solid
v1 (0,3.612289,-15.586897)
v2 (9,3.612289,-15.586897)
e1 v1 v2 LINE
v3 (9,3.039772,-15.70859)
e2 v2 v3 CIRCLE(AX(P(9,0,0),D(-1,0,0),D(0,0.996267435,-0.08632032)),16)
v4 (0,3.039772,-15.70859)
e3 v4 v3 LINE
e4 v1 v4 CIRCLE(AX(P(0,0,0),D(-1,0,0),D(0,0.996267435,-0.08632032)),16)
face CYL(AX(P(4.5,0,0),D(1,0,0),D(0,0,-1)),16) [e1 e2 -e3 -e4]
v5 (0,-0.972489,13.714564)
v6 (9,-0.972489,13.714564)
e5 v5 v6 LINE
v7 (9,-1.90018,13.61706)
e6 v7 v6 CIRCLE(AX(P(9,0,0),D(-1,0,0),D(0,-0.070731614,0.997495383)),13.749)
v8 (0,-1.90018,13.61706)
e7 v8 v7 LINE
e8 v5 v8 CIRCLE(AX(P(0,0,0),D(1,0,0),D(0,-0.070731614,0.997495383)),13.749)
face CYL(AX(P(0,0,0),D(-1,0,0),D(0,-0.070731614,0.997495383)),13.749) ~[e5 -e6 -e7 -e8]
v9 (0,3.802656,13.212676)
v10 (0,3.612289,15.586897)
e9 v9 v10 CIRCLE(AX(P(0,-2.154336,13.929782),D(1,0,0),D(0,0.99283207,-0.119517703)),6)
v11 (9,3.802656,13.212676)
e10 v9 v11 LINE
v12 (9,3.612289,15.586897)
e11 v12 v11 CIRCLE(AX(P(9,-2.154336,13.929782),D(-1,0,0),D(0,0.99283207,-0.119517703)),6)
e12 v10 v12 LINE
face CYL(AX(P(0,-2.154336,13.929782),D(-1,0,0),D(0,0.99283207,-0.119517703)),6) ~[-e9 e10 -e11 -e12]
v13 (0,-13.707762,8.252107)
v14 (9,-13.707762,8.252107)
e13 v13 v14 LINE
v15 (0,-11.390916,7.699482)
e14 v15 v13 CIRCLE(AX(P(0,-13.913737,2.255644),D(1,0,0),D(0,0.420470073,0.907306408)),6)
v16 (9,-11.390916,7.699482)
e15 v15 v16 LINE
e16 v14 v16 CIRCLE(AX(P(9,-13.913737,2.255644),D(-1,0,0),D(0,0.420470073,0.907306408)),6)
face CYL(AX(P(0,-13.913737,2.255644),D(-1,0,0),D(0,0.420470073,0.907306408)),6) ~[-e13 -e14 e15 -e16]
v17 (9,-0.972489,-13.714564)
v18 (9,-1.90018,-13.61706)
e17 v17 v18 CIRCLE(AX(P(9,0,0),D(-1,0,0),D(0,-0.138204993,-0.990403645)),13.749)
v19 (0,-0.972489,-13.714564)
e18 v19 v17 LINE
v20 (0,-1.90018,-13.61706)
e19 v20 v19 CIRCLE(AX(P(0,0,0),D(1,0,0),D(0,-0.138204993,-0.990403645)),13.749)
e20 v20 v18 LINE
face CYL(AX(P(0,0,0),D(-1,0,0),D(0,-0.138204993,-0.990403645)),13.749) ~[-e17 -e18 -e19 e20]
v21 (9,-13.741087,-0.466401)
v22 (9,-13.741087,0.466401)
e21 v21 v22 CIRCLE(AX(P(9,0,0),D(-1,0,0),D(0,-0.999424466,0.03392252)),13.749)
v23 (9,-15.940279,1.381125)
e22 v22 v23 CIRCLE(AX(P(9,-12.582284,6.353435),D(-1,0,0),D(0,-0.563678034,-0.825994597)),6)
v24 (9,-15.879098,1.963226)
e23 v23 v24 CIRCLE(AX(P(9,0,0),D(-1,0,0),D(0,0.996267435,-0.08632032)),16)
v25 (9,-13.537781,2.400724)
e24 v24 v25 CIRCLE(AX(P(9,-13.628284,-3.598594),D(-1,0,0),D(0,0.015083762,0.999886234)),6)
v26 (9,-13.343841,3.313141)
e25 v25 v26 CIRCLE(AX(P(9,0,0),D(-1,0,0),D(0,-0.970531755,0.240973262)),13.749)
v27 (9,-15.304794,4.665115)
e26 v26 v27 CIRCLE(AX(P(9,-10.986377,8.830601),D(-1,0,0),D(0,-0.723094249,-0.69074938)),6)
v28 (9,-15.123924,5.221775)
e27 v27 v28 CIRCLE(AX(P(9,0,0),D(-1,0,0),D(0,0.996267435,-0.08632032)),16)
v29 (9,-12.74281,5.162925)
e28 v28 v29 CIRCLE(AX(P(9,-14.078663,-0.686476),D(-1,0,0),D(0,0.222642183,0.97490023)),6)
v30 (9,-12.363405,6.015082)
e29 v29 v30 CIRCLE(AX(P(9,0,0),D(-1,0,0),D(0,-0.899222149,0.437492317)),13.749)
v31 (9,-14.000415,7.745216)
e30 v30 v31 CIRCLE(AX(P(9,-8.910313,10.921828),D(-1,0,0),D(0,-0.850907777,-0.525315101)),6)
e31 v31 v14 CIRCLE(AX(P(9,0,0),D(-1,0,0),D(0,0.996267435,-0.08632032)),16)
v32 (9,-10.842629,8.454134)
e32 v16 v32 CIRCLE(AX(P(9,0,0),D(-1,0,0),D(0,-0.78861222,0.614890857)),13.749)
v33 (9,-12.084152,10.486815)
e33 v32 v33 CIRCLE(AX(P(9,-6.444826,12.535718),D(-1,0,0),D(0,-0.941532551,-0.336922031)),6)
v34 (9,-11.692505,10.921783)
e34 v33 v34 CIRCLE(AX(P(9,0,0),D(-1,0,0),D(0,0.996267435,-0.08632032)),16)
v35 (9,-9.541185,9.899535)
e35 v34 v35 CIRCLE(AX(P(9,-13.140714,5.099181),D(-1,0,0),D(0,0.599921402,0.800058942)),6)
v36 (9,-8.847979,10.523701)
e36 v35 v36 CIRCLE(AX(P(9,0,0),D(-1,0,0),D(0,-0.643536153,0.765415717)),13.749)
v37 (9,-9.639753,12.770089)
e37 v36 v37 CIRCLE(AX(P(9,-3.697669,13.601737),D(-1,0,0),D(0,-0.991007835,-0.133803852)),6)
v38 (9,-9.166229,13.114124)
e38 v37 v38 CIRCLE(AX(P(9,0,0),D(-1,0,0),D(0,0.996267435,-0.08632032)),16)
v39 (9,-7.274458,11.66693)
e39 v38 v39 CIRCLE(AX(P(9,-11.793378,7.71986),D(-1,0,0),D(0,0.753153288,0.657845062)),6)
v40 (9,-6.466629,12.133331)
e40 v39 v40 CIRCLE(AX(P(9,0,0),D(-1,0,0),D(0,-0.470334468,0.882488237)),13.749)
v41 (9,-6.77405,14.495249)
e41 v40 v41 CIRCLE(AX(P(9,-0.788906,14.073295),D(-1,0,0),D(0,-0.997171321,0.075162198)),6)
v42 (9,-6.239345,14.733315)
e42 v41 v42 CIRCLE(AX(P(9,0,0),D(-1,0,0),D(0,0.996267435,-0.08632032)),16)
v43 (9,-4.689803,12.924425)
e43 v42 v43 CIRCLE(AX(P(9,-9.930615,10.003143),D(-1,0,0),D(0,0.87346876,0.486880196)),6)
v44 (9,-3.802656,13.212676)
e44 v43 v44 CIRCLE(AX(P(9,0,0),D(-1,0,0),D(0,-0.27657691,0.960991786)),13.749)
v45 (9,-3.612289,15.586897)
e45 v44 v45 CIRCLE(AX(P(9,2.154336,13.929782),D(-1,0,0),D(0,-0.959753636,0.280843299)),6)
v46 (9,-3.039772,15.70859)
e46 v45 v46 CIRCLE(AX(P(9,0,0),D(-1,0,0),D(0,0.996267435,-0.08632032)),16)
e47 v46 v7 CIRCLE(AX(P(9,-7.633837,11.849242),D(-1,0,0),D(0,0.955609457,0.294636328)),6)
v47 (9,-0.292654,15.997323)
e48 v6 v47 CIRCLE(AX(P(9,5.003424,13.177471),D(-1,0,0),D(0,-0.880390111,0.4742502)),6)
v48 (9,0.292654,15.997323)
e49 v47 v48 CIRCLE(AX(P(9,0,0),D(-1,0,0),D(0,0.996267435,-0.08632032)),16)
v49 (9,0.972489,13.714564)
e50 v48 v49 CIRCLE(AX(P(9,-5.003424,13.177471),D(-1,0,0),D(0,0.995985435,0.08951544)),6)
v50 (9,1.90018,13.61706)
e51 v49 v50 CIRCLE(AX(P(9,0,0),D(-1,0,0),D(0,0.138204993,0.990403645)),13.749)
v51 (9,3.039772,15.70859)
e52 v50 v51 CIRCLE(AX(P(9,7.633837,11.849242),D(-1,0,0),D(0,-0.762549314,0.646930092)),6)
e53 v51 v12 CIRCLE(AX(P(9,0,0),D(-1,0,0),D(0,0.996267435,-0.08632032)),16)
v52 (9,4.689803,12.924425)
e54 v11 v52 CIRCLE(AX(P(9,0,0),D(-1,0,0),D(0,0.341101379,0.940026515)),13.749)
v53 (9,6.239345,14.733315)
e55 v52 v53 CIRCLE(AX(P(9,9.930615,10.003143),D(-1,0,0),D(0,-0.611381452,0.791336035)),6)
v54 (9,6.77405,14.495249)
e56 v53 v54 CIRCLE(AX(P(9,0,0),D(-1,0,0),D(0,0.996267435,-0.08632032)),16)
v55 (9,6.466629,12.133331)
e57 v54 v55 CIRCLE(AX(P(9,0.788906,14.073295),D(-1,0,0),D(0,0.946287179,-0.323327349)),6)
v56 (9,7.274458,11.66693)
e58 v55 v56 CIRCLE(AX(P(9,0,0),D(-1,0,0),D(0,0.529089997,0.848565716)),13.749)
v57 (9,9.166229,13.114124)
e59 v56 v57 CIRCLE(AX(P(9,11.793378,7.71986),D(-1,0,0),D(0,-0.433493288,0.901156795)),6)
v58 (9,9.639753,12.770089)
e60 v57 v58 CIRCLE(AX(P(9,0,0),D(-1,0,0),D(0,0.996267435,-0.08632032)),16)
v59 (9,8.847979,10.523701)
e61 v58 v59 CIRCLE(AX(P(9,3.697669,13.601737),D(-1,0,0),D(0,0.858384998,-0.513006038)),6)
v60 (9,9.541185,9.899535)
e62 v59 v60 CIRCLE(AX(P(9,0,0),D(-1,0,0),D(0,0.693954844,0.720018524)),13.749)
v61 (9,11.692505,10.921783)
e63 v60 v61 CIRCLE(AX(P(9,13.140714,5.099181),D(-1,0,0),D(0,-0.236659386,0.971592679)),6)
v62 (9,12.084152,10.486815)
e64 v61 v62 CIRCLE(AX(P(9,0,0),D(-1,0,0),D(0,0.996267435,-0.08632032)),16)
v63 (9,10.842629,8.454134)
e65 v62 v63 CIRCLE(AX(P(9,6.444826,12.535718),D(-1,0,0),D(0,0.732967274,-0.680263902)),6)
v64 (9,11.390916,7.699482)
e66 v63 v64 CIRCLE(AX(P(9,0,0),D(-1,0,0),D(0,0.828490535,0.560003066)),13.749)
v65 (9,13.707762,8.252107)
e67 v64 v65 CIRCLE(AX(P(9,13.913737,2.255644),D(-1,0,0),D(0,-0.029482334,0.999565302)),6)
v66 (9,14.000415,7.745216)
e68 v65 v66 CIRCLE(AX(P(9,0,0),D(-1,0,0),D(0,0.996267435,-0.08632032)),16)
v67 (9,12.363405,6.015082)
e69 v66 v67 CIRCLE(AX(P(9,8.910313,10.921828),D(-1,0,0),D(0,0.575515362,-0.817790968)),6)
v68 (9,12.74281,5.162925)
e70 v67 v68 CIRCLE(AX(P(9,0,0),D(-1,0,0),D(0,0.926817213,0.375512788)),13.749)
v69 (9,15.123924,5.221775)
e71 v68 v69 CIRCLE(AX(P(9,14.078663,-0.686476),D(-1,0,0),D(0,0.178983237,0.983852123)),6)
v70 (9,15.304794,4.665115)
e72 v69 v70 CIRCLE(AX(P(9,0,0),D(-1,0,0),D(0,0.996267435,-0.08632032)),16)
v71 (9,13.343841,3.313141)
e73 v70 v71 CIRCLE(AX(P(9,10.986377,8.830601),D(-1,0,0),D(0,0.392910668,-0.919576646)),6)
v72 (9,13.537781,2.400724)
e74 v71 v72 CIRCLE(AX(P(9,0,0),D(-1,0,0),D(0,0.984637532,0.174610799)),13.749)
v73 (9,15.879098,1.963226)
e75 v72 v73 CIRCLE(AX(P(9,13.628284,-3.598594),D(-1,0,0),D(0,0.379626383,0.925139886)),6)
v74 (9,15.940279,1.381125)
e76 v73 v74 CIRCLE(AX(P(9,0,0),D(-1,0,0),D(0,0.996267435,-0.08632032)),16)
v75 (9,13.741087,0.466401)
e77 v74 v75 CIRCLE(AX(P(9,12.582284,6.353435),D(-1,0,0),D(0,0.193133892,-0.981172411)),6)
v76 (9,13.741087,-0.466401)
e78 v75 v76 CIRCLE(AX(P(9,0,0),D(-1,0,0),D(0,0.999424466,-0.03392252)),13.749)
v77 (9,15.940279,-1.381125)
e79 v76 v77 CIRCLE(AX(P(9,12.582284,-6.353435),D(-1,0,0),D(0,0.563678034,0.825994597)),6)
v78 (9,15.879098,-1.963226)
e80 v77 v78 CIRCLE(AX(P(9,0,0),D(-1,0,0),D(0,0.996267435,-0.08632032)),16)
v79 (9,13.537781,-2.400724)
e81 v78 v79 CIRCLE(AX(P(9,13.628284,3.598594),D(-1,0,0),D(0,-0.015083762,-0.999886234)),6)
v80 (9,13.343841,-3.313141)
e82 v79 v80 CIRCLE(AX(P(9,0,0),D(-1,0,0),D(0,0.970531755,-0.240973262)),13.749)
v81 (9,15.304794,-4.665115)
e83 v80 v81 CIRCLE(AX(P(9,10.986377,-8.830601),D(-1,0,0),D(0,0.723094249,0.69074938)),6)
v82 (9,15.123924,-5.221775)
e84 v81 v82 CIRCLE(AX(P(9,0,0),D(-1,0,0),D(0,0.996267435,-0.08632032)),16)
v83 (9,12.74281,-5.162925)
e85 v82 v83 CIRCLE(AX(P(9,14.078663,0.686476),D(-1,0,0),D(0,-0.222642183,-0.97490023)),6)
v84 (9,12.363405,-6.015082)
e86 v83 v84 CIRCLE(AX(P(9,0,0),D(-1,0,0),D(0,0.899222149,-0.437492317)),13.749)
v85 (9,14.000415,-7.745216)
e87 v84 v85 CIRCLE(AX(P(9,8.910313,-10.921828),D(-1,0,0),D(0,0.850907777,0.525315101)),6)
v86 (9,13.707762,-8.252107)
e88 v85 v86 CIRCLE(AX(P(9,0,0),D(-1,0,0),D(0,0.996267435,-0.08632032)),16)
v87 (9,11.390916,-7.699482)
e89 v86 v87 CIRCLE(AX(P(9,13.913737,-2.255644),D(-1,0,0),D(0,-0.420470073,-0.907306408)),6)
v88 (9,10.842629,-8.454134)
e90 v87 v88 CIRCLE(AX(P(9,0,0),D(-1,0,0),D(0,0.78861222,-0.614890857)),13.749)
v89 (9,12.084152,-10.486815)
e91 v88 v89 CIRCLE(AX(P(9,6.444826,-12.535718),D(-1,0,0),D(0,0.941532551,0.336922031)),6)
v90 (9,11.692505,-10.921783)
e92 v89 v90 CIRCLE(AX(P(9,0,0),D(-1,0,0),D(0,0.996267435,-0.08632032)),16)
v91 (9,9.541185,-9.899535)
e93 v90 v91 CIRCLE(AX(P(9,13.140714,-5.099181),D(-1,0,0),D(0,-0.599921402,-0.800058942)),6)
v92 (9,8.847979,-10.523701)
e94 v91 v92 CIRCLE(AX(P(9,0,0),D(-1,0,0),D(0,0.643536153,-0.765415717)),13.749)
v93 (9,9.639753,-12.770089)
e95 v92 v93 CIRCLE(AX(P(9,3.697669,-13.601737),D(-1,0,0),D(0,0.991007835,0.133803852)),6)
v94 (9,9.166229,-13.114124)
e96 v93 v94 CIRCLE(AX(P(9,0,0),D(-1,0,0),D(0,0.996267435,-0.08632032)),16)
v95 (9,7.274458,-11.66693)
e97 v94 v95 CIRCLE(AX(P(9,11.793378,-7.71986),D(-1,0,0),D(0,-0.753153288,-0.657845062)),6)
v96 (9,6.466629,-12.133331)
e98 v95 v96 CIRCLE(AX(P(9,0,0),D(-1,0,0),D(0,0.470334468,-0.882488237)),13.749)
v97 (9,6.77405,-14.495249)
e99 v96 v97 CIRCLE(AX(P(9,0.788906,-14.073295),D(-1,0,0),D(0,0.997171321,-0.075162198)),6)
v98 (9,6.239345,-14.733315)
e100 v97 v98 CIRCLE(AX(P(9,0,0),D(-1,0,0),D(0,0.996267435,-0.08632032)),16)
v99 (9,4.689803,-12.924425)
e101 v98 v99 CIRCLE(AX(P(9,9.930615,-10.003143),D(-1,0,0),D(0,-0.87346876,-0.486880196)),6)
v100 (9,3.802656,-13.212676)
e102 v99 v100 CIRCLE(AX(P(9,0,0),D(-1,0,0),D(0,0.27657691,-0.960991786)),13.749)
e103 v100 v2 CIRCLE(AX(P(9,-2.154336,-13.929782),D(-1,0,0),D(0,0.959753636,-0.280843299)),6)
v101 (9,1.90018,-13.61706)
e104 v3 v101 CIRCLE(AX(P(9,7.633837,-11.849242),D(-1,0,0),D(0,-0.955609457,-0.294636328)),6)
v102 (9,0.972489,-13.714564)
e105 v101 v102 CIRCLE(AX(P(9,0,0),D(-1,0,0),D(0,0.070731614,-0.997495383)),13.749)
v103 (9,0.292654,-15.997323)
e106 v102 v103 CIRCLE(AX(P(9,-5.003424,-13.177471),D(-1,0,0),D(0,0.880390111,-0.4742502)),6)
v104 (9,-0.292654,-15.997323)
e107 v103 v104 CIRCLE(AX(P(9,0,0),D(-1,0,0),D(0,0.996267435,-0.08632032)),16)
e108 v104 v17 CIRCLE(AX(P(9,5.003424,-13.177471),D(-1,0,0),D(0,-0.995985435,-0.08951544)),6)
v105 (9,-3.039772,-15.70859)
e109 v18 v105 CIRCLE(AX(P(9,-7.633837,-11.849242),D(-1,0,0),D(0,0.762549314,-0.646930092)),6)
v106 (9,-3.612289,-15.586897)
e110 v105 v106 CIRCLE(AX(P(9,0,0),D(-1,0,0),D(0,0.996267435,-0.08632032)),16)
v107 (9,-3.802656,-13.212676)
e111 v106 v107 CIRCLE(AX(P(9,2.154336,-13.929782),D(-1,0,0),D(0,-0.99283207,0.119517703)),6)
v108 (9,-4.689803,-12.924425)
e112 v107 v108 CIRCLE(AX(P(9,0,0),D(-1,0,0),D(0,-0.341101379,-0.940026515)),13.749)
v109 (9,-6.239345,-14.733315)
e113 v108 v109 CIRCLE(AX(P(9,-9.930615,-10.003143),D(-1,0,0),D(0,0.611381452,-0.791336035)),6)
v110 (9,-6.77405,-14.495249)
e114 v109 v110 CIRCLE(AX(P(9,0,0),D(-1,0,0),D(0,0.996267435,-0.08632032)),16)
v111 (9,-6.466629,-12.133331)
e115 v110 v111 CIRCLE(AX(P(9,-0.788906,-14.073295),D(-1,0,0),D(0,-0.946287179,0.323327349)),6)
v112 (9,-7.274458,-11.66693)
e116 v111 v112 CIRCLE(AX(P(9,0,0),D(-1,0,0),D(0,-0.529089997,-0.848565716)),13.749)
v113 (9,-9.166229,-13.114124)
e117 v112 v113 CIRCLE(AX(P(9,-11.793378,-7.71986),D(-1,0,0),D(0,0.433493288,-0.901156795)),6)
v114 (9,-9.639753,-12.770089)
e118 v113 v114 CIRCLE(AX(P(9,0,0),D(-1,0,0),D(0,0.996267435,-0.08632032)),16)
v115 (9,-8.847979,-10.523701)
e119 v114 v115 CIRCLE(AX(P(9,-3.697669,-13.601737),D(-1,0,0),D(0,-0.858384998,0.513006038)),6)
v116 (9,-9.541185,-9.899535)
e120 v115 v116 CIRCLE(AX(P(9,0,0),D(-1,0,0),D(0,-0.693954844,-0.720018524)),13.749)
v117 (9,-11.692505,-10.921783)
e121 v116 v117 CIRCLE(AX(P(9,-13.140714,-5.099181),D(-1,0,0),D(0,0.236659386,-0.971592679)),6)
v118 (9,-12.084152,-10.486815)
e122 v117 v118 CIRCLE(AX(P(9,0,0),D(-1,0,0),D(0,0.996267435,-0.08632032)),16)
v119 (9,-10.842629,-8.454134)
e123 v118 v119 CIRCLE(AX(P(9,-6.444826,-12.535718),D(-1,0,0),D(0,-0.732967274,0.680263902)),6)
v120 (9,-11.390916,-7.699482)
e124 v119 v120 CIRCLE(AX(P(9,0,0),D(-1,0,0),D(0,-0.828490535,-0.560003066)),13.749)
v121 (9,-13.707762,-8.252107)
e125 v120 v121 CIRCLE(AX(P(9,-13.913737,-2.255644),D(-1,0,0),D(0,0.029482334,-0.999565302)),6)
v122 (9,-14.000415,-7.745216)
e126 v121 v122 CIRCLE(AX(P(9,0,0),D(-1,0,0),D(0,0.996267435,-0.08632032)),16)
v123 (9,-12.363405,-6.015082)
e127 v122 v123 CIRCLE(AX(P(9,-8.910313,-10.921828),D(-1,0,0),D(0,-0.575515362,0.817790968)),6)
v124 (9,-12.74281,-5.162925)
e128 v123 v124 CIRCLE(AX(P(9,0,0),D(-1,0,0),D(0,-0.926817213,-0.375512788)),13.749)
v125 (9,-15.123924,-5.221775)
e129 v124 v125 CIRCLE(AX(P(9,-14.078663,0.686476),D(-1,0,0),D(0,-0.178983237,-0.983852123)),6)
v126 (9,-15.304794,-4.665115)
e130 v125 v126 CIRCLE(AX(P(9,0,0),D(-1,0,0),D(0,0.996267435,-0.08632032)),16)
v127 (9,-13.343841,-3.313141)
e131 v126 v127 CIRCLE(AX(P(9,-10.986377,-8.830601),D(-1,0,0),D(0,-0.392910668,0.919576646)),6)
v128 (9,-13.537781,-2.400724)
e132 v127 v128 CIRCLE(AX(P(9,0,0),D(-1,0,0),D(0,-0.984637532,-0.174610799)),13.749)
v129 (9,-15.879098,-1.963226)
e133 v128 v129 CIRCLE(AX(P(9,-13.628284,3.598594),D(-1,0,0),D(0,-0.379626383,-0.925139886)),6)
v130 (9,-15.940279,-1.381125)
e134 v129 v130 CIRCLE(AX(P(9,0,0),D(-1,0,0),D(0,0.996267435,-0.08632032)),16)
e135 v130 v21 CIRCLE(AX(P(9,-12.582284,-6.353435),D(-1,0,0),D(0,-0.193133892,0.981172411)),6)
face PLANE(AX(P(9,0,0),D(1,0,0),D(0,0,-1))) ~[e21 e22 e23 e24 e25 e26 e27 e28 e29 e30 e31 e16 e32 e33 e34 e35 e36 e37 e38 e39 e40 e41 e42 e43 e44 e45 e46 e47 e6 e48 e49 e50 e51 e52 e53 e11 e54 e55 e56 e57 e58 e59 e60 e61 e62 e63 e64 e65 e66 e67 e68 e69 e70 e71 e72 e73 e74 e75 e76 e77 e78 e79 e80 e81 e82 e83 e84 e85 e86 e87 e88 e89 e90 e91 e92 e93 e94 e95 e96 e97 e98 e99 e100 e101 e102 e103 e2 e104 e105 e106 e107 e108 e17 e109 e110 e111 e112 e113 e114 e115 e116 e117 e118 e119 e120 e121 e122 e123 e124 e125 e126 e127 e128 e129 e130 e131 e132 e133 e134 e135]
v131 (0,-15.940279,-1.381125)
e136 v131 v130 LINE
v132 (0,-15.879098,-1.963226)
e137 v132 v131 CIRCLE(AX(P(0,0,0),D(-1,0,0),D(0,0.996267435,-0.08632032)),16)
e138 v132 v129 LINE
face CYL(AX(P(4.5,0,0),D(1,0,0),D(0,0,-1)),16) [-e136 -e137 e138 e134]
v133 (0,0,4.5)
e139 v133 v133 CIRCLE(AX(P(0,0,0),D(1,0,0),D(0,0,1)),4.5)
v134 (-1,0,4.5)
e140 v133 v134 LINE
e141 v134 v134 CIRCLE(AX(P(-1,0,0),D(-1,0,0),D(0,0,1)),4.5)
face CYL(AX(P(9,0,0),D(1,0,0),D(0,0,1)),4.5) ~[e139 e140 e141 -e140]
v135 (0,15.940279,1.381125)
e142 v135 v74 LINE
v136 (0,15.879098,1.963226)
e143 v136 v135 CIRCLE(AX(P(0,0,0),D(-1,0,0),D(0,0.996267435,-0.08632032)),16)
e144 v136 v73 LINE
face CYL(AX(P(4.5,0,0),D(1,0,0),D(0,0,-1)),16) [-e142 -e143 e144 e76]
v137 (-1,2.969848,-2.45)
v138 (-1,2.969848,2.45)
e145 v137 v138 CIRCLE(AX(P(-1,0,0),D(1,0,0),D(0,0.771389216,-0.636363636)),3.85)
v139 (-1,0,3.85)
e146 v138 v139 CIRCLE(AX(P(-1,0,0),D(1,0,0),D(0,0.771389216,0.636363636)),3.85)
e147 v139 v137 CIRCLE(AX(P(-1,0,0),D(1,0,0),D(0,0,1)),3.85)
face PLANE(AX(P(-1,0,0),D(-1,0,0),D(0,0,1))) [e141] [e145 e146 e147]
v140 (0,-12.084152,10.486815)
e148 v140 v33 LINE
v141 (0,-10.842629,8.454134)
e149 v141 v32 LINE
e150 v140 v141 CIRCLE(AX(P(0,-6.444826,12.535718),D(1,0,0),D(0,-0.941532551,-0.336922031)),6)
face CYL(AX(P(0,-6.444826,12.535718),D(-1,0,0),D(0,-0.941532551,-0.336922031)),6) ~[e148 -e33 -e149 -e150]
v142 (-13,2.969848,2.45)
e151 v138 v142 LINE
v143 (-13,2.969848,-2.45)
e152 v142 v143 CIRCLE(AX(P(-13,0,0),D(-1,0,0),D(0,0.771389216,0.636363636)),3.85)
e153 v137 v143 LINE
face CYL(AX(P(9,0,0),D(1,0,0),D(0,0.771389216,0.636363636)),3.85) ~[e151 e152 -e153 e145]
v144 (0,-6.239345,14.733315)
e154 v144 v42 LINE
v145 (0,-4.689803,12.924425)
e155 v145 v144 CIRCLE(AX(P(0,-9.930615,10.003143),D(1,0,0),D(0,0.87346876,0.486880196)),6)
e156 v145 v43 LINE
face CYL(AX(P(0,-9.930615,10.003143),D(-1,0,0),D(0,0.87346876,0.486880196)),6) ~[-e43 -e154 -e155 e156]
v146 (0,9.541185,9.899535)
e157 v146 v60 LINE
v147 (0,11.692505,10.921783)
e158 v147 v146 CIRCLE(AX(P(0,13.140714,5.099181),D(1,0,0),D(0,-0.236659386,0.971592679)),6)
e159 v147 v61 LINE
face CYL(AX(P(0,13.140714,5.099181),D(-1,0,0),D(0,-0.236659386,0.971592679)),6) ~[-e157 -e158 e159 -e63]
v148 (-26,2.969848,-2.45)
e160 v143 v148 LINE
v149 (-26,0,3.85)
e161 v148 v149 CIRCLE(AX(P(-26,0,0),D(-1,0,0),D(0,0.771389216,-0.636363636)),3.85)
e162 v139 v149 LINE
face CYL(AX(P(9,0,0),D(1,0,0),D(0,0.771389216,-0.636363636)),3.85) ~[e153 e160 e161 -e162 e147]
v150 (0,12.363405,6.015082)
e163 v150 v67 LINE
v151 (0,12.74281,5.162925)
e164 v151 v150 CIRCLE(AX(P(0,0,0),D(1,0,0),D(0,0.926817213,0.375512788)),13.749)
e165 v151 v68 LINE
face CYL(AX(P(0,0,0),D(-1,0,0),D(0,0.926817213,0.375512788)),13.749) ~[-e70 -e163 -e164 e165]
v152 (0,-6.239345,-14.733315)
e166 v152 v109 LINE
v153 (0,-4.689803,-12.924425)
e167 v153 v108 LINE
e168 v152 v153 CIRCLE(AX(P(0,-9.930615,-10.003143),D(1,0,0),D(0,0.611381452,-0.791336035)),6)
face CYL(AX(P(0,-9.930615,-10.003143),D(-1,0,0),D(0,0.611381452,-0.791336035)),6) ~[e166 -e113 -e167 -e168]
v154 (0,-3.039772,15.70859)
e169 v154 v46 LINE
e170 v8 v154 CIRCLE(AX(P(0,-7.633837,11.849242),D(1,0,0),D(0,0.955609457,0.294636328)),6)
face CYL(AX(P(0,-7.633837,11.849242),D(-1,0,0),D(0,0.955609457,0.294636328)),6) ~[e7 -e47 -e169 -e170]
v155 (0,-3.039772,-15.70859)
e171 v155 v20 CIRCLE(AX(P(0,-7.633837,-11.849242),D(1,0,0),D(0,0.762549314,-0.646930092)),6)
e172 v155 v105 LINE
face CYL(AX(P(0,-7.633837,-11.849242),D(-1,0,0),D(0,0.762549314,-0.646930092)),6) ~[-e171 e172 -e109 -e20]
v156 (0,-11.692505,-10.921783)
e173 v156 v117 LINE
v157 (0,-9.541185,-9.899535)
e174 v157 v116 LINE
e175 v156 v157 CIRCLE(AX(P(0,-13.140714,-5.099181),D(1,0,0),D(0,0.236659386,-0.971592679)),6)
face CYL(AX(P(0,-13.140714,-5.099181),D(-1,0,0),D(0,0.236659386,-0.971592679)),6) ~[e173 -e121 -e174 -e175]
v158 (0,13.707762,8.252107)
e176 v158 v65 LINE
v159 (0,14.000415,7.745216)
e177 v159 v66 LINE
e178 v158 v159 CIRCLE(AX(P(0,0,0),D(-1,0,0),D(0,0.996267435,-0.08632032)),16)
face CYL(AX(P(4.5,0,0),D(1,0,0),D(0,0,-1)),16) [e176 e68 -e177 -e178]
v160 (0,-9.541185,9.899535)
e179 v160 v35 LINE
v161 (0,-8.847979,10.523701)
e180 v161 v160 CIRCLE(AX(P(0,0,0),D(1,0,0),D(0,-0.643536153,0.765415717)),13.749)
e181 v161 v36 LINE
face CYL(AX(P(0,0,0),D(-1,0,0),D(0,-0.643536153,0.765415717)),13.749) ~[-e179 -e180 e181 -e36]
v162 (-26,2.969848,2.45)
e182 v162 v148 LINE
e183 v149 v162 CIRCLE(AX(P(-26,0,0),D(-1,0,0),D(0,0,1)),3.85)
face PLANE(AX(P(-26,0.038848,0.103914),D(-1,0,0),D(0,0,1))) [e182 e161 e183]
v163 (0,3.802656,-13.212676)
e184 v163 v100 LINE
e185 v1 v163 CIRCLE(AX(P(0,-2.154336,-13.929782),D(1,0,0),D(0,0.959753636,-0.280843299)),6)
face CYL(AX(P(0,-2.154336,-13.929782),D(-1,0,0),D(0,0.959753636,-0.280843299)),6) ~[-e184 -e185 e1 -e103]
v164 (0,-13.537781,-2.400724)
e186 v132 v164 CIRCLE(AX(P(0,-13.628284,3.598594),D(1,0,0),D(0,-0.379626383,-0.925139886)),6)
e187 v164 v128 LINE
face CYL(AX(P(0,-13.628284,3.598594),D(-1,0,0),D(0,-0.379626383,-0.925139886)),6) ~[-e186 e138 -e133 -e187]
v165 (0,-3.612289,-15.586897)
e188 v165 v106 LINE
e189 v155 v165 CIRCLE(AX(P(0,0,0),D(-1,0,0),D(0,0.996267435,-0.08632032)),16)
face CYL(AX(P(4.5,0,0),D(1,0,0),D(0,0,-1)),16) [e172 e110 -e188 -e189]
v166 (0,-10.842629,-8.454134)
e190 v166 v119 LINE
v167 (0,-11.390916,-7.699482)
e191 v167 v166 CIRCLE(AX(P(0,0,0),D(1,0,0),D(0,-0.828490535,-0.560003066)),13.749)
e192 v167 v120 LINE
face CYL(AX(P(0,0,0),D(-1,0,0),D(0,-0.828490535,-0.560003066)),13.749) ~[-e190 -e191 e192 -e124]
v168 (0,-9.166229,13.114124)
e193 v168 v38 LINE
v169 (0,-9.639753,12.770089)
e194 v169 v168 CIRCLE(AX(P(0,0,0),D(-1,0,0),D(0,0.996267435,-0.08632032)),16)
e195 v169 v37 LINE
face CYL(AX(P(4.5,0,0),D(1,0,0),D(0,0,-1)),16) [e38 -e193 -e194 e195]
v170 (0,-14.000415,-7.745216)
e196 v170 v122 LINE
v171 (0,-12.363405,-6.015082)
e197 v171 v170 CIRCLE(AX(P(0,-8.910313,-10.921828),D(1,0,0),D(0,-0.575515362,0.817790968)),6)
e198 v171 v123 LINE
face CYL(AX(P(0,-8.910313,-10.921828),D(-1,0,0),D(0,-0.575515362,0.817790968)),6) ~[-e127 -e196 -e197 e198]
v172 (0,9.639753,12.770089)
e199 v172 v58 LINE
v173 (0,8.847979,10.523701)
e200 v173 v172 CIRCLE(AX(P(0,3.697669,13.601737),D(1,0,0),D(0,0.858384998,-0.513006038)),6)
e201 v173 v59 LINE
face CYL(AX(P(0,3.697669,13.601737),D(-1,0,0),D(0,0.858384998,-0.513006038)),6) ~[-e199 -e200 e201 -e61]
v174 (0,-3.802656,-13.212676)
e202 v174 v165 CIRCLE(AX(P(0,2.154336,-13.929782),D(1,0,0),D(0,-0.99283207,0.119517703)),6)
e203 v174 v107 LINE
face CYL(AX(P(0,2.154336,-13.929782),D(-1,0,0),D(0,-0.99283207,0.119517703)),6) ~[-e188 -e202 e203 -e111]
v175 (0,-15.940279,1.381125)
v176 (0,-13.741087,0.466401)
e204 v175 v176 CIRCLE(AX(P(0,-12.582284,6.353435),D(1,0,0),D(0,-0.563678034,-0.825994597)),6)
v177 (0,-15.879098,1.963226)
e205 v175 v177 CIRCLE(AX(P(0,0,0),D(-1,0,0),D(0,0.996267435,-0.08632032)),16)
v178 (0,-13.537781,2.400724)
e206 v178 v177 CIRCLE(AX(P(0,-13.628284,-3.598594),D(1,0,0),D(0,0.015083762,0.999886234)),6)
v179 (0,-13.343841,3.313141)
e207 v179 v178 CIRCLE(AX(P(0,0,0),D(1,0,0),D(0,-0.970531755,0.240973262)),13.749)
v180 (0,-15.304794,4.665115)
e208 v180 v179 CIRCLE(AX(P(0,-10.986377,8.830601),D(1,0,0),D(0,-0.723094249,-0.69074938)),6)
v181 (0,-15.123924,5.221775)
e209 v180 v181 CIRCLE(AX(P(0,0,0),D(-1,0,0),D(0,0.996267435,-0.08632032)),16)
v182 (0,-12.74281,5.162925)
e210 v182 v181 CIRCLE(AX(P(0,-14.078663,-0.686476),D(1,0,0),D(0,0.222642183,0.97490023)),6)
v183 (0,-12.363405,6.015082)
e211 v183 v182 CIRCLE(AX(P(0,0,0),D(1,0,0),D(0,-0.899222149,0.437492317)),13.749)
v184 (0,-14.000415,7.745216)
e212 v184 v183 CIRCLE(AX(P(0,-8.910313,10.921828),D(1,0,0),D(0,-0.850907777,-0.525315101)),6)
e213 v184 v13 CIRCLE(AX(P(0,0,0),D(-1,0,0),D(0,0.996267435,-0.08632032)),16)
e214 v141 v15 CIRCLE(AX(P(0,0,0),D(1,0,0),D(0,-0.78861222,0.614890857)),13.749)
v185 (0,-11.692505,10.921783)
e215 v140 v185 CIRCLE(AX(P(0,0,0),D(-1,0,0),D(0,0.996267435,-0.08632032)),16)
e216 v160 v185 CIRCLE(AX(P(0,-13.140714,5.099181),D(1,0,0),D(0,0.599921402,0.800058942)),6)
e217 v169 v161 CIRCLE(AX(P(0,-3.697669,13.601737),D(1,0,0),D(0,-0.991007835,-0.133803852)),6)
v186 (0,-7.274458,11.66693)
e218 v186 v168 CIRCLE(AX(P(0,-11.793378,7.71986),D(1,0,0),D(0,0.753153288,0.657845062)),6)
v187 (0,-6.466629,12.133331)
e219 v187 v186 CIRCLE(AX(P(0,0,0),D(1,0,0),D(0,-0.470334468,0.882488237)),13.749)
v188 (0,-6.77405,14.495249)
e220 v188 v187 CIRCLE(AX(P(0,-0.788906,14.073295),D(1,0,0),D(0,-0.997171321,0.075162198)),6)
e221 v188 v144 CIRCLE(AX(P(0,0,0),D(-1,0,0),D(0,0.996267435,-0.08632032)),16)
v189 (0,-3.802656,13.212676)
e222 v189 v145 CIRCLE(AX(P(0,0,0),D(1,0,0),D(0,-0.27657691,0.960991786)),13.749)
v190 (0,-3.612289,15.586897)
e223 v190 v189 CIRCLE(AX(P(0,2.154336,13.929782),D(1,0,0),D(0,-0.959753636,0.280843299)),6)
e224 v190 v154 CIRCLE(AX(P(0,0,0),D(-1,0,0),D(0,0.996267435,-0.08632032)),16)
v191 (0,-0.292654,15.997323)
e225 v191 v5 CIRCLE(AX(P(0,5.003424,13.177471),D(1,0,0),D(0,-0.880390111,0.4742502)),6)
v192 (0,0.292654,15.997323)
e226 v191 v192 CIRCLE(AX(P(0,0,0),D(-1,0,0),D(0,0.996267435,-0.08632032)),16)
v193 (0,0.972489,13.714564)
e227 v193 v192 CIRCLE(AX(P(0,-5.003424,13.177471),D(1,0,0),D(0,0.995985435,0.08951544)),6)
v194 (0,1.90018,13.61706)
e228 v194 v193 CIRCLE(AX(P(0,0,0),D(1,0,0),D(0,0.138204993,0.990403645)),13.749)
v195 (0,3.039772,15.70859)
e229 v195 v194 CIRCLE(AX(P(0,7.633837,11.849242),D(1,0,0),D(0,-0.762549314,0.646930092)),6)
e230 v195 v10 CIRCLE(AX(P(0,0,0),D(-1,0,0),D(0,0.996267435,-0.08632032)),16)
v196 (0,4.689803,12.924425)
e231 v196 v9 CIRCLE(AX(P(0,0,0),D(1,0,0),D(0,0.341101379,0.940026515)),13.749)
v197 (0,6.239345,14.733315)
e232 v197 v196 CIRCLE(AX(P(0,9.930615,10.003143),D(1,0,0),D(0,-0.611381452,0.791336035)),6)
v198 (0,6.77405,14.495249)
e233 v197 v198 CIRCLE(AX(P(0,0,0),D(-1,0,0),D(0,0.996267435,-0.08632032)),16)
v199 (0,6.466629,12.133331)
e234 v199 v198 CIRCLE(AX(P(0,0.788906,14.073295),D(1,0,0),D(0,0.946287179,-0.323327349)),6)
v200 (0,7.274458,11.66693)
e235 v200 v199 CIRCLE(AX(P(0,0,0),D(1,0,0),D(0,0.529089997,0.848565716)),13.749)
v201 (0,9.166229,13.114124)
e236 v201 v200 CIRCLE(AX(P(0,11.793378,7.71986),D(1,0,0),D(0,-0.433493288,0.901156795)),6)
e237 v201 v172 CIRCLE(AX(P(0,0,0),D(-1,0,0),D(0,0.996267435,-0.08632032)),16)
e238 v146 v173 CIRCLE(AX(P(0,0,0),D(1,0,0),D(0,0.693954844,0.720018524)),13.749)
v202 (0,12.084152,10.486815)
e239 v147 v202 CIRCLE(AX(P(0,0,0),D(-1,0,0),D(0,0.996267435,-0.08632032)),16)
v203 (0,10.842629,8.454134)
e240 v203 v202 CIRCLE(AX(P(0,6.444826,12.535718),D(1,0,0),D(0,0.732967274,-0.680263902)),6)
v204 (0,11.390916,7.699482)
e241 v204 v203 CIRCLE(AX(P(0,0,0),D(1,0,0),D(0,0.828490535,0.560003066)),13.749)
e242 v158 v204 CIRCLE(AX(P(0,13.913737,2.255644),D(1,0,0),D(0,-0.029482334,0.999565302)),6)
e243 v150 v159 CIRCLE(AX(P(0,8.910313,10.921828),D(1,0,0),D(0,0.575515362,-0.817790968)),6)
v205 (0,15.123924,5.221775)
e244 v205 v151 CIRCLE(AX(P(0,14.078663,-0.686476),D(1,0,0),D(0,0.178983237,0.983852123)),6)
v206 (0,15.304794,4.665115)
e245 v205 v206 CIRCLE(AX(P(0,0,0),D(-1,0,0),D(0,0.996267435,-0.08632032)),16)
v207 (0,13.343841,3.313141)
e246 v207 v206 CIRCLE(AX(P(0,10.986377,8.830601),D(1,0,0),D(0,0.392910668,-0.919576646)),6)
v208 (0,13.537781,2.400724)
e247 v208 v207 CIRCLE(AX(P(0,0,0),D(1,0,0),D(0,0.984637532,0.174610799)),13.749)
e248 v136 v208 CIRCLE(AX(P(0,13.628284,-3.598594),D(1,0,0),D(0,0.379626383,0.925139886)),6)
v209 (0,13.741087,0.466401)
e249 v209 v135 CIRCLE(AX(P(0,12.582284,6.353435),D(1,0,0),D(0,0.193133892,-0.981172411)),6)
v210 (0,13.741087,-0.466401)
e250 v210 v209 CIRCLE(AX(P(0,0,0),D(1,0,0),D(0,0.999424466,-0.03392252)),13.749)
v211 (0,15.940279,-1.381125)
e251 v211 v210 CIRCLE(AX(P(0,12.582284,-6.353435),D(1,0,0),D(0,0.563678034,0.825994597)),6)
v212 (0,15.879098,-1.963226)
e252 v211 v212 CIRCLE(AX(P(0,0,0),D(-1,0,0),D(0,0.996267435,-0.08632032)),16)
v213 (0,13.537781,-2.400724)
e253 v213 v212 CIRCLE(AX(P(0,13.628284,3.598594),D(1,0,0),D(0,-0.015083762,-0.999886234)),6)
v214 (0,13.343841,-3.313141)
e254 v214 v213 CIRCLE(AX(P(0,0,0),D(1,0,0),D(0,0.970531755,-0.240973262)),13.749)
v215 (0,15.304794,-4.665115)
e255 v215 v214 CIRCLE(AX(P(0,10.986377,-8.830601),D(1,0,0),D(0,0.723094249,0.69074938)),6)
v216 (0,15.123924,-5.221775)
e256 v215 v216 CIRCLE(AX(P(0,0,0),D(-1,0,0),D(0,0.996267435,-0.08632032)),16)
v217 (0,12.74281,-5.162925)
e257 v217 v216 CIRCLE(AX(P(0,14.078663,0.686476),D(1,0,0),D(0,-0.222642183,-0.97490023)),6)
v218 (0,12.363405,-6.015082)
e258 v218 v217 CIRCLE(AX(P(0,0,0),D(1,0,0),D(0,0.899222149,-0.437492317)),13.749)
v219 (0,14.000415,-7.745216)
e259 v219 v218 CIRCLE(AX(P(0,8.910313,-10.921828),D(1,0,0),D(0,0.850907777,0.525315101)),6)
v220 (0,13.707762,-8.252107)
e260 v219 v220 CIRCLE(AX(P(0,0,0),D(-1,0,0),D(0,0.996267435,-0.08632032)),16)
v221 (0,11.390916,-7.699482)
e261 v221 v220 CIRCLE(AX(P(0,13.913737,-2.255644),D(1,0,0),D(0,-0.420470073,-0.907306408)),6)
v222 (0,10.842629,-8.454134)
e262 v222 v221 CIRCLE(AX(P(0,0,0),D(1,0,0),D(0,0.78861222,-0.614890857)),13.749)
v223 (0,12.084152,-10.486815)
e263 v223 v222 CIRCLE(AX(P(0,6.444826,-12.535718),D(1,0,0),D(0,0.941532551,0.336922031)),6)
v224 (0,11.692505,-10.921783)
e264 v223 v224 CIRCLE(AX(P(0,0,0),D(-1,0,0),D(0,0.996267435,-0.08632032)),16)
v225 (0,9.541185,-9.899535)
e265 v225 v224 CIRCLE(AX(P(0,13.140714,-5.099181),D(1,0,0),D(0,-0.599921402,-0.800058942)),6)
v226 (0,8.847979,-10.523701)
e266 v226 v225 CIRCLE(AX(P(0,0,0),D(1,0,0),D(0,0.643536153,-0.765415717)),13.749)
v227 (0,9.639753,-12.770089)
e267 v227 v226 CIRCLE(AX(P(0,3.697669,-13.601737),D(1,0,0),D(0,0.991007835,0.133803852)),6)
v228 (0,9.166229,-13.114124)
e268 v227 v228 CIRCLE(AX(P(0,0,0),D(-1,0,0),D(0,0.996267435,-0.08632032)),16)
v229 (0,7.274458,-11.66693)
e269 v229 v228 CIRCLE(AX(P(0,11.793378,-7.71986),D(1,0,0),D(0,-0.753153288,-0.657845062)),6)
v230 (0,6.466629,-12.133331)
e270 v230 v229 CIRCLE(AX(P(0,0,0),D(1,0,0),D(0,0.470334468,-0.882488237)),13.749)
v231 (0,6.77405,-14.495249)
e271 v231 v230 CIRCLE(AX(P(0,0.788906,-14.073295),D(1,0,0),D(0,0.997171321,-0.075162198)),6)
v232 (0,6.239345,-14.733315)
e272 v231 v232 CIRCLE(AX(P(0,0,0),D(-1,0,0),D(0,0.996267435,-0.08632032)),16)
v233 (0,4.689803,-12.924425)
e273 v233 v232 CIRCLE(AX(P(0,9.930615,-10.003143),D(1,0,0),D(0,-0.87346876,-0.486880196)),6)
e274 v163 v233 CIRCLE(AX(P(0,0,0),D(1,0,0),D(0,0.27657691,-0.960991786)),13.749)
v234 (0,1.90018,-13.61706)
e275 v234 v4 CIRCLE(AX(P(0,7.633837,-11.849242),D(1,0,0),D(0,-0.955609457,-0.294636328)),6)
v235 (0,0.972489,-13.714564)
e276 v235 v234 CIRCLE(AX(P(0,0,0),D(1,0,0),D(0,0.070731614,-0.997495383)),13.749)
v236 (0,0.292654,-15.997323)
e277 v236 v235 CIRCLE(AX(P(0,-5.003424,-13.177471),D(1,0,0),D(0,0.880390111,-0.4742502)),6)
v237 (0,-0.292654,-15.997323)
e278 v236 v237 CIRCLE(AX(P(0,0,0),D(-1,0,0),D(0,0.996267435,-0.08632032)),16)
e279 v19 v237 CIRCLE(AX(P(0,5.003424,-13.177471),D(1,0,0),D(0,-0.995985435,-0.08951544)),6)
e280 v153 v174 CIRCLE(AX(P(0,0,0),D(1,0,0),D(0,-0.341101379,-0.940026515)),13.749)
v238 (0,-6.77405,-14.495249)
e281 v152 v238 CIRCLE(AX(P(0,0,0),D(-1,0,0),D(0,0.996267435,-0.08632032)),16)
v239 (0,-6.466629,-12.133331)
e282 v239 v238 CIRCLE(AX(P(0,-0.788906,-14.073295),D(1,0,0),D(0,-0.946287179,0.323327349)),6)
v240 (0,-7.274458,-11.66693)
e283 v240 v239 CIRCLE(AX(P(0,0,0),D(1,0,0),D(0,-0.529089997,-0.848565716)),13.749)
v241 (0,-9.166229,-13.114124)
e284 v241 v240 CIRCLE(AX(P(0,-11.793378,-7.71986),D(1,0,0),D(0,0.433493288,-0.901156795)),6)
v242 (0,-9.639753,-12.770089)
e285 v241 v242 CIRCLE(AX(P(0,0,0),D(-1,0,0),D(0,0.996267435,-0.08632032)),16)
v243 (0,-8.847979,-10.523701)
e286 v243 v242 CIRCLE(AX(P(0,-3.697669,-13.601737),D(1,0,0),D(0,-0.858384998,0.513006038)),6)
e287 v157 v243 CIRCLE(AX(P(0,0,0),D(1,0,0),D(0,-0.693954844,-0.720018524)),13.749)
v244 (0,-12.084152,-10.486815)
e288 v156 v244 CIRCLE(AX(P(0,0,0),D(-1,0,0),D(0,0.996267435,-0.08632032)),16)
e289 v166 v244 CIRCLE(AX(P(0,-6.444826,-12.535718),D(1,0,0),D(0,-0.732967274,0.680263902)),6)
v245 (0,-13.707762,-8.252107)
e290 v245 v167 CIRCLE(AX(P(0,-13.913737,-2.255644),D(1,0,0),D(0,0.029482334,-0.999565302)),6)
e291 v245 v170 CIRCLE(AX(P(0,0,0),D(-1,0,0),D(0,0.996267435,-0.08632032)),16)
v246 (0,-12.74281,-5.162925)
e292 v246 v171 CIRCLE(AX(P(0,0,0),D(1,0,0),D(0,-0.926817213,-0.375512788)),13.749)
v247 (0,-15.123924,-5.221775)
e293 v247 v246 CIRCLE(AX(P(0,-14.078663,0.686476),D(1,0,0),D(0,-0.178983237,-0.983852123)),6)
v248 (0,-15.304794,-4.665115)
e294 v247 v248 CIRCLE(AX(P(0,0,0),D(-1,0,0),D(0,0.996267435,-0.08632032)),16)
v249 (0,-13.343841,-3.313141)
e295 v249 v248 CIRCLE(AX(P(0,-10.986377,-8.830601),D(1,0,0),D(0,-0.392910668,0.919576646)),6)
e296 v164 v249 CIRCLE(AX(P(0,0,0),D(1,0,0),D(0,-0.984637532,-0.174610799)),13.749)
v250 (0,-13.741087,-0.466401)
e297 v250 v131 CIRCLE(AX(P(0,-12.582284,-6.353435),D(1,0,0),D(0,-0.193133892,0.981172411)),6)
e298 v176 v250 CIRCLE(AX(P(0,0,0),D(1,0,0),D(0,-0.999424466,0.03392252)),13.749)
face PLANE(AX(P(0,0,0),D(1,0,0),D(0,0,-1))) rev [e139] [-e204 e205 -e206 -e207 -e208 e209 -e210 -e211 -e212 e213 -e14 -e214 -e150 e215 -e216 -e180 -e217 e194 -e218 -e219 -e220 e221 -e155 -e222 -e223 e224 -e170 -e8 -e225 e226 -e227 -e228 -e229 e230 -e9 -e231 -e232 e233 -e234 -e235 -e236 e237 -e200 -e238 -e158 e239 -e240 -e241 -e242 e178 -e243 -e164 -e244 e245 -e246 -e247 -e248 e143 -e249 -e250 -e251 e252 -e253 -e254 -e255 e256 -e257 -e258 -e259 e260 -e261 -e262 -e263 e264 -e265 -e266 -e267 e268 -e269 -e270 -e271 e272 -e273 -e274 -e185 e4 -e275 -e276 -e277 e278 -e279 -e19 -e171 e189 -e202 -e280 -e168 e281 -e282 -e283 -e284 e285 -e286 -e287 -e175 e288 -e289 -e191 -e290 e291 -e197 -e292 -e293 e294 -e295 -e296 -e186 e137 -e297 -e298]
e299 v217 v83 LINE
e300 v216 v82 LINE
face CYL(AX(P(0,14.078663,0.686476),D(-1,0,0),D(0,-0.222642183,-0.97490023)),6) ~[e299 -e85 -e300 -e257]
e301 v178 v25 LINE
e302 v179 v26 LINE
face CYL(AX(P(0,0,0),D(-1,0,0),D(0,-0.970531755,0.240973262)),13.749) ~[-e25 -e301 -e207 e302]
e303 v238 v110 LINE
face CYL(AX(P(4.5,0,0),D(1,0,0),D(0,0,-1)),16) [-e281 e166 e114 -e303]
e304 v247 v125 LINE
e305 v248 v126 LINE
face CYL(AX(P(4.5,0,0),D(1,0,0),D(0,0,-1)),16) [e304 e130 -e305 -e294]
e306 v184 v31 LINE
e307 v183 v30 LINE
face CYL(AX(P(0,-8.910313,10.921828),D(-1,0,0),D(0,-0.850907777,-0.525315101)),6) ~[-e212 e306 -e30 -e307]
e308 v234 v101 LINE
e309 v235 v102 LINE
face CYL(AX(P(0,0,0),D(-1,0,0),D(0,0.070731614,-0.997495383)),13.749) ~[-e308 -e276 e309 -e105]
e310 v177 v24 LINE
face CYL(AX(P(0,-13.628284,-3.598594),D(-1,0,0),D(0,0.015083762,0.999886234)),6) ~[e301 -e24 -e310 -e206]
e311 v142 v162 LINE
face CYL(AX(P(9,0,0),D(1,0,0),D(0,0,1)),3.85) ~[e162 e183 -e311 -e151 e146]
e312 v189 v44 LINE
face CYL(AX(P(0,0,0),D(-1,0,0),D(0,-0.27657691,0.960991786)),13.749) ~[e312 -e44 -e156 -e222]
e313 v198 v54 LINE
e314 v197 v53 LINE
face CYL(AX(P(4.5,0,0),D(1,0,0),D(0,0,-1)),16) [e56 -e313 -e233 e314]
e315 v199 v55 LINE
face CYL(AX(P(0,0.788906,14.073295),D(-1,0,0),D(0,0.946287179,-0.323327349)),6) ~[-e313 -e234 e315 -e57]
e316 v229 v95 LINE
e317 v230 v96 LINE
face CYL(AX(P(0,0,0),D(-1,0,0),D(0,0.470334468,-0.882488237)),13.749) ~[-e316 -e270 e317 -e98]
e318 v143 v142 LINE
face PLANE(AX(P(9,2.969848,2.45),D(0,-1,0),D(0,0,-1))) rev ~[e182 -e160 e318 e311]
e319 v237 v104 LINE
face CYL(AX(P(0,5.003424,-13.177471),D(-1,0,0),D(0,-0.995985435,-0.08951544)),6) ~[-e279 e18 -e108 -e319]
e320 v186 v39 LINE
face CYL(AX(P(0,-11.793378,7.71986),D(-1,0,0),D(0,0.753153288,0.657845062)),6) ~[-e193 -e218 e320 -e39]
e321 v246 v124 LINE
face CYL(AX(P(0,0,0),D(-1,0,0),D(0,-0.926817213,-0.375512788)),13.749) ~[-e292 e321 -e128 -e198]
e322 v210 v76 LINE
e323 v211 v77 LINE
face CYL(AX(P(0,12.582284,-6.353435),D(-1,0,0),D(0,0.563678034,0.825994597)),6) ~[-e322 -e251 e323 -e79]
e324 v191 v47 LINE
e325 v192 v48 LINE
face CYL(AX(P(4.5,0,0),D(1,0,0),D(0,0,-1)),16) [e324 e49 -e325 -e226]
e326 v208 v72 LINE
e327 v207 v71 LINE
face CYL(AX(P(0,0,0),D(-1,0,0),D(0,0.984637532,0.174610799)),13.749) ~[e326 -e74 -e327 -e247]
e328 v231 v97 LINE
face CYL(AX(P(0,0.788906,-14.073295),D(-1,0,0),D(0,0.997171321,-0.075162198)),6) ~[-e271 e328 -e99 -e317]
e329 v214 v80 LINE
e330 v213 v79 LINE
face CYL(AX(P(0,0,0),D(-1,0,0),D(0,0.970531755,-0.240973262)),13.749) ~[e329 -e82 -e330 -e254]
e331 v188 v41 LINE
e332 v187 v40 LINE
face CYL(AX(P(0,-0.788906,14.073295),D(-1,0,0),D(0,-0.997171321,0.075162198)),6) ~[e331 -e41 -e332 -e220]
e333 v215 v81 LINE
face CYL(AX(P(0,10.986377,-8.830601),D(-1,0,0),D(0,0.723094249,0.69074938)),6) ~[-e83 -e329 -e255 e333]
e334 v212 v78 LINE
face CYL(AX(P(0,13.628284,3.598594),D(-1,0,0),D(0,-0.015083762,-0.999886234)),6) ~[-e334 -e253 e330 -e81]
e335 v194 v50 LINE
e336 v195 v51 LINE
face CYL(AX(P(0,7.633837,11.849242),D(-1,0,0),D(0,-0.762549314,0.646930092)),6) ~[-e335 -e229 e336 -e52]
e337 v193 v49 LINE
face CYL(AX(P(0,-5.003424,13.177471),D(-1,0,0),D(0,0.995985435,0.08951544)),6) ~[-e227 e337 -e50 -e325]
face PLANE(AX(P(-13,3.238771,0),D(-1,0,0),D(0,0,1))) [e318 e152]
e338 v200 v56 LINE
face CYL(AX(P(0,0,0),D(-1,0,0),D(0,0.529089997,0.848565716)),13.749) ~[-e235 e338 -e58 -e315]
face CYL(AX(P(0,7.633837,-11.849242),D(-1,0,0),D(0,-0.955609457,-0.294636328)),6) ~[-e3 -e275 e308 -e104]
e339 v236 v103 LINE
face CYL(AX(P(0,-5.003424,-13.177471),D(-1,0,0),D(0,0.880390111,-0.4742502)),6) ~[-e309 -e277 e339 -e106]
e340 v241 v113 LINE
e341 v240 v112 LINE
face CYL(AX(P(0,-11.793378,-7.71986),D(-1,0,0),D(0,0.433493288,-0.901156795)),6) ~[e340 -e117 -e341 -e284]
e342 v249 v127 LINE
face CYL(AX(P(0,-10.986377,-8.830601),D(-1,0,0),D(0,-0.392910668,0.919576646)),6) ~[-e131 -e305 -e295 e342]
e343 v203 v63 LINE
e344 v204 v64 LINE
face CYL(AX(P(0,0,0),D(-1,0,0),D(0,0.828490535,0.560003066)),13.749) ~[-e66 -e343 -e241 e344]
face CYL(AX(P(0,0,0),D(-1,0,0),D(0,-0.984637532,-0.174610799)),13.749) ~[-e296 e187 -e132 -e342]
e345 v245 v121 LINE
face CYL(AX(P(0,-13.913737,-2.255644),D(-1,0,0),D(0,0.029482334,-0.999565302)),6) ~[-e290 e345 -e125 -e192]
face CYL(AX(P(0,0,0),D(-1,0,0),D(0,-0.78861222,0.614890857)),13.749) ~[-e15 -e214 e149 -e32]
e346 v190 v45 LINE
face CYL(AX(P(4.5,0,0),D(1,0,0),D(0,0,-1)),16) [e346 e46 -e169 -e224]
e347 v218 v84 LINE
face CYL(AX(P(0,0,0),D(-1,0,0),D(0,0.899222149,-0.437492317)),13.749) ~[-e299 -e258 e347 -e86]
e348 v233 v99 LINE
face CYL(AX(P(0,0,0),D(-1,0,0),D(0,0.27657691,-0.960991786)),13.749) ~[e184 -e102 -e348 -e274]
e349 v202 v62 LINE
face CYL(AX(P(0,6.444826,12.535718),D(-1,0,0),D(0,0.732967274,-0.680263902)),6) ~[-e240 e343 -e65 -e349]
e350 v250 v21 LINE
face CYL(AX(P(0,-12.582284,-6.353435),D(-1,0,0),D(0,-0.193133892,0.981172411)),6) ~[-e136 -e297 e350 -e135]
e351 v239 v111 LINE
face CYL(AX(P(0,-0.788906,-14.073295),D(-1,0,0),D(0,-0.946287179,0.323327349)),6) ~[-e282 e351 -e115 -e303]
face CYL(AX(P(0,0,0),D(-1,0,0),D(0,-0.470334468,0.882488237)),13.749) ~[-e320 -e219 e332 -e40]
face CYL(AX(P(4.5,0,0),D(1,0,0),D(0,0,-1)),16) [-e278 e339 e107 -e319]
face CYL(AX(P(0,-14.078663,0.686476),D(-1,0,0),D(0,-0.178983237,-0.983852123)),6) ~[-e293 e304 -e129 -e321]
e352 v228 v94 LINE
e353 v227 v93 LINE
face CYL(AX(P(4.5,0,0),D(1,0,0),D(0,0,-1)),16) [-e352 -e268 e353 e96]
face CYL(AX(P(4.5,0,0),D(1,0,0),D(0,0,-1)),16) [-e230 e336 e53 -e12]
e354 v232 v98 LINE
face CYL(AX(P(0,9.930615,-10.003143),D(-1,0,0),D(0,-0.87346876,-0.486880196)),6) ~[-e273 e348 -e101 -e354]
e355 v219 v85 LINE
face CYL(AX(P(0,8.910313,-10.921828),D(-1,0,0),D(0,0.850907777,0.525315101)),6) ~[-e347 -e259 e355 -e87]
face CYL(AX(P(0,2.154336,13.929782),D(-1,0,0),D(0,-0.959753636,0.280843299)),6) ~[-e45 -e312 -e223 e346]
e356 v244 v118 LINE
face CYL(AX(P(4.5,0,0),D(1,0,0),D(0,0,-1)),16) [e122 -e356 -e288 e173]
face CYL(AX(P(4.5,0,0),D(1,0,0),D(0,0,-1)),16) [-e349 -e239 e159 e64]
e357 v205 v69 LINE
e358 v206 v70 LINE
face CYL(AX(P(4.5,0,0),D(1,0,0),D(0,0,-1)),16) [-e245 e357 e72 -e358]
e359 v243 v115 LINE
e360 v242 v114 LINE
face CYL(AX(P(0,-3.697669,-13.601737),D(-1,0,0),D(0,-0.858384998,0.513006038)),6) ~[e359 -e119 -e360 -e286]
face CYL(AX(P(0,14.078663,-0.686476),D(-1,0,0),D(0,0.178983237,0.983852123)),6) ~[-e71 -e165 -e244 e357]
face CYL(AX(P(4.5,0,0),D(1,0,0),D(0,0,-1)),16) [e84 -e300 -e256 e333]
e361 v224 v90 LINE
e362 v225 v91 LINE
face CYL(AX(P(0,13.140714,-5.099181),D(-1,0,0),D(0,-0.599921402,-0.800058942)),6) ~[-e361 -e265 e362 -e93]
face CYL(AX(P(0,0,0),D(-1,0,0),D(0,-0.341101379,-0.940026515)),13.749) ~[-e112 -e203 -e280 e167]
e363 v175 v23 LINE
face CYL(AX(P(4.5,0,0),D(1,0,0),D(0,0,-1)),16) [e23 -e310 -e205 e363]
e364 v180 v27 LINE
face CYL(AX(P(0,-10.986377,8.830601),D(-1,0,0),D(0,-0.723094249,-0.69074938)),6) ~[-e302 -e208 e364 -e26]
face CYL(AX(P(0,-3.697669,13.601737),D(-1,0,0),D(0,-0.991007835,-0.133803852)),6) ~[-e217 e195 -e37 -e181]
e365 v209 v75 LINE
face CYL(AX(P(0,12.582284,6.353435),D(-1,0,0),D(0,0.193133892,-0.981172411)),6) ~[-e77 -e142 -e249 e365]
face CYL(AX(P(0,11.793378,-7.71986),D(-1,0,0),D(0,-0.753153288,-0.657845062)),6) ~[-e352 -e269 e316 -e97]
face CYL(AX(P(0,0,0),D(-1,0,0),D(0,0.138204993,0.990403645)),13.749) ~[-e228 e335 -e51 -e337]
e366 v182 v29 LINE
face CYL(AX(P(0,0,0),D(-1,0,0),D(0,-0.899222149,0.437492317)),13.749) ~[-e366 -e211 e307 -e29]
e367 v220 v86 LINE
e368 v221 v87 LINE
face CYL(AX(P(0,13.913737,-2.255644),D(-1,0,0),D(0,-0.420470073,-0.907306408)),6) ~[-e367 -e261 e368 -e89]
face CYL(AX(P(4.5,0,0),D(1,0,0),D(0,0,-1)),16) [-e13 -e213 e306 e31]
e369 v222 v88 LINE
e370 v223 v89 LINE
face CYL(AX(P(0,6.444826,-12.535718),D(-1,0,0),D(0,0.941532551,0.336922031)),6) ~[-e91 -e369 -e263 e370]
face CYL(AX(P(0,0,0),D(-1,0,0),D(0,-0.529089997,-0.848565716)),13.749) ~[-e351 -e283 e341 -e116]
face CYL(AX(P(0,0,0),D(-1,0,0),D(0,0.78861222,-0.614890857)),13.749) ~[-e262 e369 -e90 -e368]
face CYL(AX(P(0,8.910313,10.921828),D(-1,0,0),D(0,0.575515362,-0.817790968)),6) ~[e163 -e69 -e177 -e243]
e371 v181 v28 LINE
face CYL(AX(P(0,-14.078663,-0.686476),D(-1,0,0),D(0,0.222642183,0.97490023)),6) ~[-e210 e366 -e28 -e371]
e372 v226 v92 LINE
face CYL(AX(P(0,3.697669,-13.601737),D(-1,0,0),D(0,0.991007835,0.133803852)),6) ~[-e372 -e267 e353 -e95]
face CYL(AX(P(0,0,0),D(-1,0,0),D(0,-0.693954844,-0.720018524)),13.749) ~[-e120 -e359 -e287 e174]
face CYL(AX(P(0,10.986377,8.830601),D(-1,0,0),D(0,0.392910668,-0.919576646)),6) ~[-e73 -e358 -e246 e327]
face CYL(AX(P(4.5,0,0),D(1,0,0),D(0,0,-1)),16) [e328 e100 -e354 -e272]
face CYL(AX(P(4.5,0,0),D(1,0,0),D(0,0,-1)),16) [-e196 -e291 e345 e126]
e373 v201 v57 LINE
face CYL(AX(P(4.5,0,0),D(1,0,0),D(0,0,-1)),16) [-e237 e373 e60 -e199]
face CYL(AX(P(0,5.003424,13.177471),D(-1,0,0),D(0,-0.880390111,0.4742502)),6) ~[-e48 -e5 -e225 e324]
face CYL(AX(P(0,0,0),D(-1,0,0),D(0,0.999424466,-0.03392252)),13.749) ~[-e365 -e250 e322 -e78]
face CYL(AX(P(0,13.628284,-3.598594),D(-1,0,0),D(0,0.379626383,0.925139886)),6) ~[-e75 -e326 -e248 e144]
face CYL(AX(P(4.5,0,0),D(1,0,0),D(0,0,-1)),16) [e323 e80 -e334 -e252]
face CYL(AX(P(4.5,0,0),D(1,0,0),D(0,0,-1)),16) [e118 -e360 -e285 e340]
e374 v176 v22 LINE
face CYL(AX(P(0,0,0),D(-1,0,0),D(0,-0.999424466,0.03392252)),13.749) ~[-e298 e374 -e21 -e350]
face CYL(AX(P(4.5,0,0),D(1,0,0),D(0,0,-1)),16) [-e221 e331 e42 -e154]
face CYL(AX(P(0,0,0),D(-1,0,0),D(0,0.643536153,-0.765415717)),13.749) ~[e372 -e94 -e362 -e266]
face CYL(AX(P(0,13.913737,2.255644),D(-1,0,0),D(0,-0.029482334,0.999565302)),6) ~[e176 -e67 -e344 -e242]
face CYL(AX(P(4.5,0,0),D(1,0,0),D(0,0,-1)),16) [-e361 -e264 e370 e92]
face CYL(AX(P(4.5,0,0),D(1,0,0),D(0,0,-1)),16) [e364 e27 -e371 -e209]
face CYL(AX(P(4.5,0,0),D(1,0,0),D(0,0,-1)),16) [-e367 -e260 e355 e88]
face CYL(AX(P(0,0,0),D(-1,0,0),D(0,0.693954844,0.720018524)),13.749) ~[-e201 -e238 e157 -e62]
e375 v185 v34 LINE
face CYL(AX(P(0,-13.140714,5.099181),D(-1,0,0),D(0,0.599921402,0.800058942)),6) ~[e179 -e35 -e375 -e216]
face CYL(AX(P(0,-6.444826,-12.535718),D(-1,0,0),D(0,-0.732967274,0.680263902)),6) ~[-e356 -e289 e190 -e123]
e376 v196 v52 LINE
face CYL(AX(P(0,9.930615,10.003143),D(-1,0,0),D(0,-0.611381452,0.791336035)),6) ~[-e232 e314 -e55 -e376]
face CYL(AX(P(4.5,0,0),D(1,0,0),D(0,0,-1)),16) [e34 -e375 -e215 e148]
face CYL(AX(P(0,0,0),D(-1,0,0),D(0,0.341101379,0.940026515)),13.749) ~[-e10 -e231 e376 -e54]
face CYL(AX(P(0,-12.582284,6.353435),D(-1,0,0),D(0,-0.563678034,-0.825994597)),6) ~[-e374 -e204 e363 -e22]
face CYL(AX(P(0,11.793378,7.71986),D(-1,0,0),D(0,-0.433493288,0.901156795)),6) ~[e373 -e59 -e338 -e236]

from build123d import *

# Parameters (mm, degrees)
BASPROSKE_W              = 9
BASPROSKE_H              = 16
TOOTHCUT_DEPTH           = 25.351591324
TEETHCUTS_COUNT          = 30
TEETHCUTS_ANGLE          = 348
BORSKE_R                 = 4
BORE_DEPTH               = 50.0000508
BOSS_EXTRUDE3_DEPTH      = 26
BOSS_EXTRUDE3_DEPTH_BACK = 9
BOSS_EXTRUDE4_DEPTH      = 13
BOSS_EXTRUDE4_DEPTH_BACK = 9
BOSS_EXTRUDE5_DEPTH      = 1
BOSS_EXTRUDE5_DEPTH_BACK = 9
SKETCH2_6_R              = 4.5


with BuildPart() as part:
    # BasProSke → Base-Revolve (revolve)
    with BuildSketch(Plane(origin=(0, 0, 0), x_dir=(1, 0, 0), z_dir=(0, 1, 0))):
        with Locations((4.5, 8)):
            Rectangle(BASPROSKE_W, BASPROSKE_H)
    revolve(axis=Axis((-10, 0, 0), (1, 0, 0)))

    # TooCutSke → ToothCut (cut, through all)
    with BuildSketch(Plane(origin=(0, 0, 0), x_dir=(0, 0, -1), z_dir=(1, 0, 0))):
        with BuildLine():
            ThreePointArc((0.466400716, 13.741086979), (0, 13.749), (-0.466400716, 13.741086979))
            ThreePointArc((-0.466400716, 13.741086979), (-0.819142092, 14.899954875), (-1.3974676, 15.964351834))
            ThreePointArc((-1.3974676, 15.964351834), (0, 16.0254), (1.3974676, 15.964351834))
            ThreePointArc((1.3974676, 15.964351834), (0.819142092, 14.899954875), (0.466400716, 13.741086979))
        make_face()
    toothcut = extrude(amount=TOOTHCUT_DEPTH, mode=Mode.SUBTRACT)

    # TeethCuts: ToothCut ×30 about axis
    teethcuts_axis = Axis((-10, 0, 0), (1, 0, 0))
    for i in range(1, TEETHCUTS_COUNT):
        add(toothcut.rotate(teethcuts_axis, i * TEETHCUTS_ANGLE / (TEETHCUTS_COUNT - 1)), mode=Mode.SUBTRACT)

    # BorSke → Bore (cut, symmetric)
    with BuildSketch(Plane(origin=(0, 0, 0), x_dir=(0, 0, -1), z_dir=(1, 0, 0))):
        Circle(BORSKE_R)
    extrude(amount=BORE_DEPTH, both=True, mode=Mode.SUBTRACT)



with BuildPart() as body_2:
    # Sketch2 → Boss-Extrude3 (new, two sides: drawn at the far end of the back side and taken through both)
    with BuildSketch(Plane.ZY.offset(-BOSS_EXTRUDE3_DEPTH_BACK)):
        with BuildLine():
            Line((2.45, 2.969848481), (-2.45, 2.969848481))
            ThreePointArc((-2.45, 2.969848481), (-1.641645516, -3.48245603), (3.85, 0))
            ThreePointArc((3.85, 0), (3.48245603, 1.641645516), (2.45, 2.969848481))
        make_face()
    extrude(amount=BOSS_EXTRUDE3_DEPTH + BOSS_EXTRUDE3_DEPTH_BACK)

    # Sketch2<5> → Boss-Extrude4 (add, two sides: drawn at the far end of the back side and taken through both)
    with BuildSketch(Plane.ZY.offset(-BOSS_EXTRUDE4_DEPTH_BACK)):
        with BuildLine():
            ThreePointArc((2.45, 2.969848481), (0, 3.85), (-2.45, 2.969848481))
            Line((-2.45, 2.969848481), (2.45, 2.969848481))
        make_face()
    extrude(amount=BOSS_EXTRUDE4_DEPTH + BOSS_EXTRUDE4_DEPTH_BACK)


with BuildPart() as part_1:
    add(part.part)

    add(body_2.part)  # Boss-Extrude5 merges body 2
    # Sketch2<6> → Boss-Extrude5 (add, two sides: drawn at the far end of the back side and taken through both)
    with BuildSketch(Plane.ZY.offset(-BOSS_EXTRUDE5_DEPTH_BACK)):
        Circle(SKETCH2_6_R)
        with BuildLine():
            ThreePointArc((3.85, 0), (-1.641645516, -3.48245603), (-2.45, 2.969848481))
            ThreePointArc((-2.45, 2.969848481), (0, 3.85), (2.45, 2.969848481))
            ThreePointArc((2.45, 2.969848481), (3.48245603, 1.641645516), (3.85, 0))
        make_face(mode=Mode.SUBTRACT)
    extrude(amount=BOSS_EXTRUDE5_DEPTH + BOSS_EXTRUDE5_DEPTH_BACK)


solid = part_1.part
